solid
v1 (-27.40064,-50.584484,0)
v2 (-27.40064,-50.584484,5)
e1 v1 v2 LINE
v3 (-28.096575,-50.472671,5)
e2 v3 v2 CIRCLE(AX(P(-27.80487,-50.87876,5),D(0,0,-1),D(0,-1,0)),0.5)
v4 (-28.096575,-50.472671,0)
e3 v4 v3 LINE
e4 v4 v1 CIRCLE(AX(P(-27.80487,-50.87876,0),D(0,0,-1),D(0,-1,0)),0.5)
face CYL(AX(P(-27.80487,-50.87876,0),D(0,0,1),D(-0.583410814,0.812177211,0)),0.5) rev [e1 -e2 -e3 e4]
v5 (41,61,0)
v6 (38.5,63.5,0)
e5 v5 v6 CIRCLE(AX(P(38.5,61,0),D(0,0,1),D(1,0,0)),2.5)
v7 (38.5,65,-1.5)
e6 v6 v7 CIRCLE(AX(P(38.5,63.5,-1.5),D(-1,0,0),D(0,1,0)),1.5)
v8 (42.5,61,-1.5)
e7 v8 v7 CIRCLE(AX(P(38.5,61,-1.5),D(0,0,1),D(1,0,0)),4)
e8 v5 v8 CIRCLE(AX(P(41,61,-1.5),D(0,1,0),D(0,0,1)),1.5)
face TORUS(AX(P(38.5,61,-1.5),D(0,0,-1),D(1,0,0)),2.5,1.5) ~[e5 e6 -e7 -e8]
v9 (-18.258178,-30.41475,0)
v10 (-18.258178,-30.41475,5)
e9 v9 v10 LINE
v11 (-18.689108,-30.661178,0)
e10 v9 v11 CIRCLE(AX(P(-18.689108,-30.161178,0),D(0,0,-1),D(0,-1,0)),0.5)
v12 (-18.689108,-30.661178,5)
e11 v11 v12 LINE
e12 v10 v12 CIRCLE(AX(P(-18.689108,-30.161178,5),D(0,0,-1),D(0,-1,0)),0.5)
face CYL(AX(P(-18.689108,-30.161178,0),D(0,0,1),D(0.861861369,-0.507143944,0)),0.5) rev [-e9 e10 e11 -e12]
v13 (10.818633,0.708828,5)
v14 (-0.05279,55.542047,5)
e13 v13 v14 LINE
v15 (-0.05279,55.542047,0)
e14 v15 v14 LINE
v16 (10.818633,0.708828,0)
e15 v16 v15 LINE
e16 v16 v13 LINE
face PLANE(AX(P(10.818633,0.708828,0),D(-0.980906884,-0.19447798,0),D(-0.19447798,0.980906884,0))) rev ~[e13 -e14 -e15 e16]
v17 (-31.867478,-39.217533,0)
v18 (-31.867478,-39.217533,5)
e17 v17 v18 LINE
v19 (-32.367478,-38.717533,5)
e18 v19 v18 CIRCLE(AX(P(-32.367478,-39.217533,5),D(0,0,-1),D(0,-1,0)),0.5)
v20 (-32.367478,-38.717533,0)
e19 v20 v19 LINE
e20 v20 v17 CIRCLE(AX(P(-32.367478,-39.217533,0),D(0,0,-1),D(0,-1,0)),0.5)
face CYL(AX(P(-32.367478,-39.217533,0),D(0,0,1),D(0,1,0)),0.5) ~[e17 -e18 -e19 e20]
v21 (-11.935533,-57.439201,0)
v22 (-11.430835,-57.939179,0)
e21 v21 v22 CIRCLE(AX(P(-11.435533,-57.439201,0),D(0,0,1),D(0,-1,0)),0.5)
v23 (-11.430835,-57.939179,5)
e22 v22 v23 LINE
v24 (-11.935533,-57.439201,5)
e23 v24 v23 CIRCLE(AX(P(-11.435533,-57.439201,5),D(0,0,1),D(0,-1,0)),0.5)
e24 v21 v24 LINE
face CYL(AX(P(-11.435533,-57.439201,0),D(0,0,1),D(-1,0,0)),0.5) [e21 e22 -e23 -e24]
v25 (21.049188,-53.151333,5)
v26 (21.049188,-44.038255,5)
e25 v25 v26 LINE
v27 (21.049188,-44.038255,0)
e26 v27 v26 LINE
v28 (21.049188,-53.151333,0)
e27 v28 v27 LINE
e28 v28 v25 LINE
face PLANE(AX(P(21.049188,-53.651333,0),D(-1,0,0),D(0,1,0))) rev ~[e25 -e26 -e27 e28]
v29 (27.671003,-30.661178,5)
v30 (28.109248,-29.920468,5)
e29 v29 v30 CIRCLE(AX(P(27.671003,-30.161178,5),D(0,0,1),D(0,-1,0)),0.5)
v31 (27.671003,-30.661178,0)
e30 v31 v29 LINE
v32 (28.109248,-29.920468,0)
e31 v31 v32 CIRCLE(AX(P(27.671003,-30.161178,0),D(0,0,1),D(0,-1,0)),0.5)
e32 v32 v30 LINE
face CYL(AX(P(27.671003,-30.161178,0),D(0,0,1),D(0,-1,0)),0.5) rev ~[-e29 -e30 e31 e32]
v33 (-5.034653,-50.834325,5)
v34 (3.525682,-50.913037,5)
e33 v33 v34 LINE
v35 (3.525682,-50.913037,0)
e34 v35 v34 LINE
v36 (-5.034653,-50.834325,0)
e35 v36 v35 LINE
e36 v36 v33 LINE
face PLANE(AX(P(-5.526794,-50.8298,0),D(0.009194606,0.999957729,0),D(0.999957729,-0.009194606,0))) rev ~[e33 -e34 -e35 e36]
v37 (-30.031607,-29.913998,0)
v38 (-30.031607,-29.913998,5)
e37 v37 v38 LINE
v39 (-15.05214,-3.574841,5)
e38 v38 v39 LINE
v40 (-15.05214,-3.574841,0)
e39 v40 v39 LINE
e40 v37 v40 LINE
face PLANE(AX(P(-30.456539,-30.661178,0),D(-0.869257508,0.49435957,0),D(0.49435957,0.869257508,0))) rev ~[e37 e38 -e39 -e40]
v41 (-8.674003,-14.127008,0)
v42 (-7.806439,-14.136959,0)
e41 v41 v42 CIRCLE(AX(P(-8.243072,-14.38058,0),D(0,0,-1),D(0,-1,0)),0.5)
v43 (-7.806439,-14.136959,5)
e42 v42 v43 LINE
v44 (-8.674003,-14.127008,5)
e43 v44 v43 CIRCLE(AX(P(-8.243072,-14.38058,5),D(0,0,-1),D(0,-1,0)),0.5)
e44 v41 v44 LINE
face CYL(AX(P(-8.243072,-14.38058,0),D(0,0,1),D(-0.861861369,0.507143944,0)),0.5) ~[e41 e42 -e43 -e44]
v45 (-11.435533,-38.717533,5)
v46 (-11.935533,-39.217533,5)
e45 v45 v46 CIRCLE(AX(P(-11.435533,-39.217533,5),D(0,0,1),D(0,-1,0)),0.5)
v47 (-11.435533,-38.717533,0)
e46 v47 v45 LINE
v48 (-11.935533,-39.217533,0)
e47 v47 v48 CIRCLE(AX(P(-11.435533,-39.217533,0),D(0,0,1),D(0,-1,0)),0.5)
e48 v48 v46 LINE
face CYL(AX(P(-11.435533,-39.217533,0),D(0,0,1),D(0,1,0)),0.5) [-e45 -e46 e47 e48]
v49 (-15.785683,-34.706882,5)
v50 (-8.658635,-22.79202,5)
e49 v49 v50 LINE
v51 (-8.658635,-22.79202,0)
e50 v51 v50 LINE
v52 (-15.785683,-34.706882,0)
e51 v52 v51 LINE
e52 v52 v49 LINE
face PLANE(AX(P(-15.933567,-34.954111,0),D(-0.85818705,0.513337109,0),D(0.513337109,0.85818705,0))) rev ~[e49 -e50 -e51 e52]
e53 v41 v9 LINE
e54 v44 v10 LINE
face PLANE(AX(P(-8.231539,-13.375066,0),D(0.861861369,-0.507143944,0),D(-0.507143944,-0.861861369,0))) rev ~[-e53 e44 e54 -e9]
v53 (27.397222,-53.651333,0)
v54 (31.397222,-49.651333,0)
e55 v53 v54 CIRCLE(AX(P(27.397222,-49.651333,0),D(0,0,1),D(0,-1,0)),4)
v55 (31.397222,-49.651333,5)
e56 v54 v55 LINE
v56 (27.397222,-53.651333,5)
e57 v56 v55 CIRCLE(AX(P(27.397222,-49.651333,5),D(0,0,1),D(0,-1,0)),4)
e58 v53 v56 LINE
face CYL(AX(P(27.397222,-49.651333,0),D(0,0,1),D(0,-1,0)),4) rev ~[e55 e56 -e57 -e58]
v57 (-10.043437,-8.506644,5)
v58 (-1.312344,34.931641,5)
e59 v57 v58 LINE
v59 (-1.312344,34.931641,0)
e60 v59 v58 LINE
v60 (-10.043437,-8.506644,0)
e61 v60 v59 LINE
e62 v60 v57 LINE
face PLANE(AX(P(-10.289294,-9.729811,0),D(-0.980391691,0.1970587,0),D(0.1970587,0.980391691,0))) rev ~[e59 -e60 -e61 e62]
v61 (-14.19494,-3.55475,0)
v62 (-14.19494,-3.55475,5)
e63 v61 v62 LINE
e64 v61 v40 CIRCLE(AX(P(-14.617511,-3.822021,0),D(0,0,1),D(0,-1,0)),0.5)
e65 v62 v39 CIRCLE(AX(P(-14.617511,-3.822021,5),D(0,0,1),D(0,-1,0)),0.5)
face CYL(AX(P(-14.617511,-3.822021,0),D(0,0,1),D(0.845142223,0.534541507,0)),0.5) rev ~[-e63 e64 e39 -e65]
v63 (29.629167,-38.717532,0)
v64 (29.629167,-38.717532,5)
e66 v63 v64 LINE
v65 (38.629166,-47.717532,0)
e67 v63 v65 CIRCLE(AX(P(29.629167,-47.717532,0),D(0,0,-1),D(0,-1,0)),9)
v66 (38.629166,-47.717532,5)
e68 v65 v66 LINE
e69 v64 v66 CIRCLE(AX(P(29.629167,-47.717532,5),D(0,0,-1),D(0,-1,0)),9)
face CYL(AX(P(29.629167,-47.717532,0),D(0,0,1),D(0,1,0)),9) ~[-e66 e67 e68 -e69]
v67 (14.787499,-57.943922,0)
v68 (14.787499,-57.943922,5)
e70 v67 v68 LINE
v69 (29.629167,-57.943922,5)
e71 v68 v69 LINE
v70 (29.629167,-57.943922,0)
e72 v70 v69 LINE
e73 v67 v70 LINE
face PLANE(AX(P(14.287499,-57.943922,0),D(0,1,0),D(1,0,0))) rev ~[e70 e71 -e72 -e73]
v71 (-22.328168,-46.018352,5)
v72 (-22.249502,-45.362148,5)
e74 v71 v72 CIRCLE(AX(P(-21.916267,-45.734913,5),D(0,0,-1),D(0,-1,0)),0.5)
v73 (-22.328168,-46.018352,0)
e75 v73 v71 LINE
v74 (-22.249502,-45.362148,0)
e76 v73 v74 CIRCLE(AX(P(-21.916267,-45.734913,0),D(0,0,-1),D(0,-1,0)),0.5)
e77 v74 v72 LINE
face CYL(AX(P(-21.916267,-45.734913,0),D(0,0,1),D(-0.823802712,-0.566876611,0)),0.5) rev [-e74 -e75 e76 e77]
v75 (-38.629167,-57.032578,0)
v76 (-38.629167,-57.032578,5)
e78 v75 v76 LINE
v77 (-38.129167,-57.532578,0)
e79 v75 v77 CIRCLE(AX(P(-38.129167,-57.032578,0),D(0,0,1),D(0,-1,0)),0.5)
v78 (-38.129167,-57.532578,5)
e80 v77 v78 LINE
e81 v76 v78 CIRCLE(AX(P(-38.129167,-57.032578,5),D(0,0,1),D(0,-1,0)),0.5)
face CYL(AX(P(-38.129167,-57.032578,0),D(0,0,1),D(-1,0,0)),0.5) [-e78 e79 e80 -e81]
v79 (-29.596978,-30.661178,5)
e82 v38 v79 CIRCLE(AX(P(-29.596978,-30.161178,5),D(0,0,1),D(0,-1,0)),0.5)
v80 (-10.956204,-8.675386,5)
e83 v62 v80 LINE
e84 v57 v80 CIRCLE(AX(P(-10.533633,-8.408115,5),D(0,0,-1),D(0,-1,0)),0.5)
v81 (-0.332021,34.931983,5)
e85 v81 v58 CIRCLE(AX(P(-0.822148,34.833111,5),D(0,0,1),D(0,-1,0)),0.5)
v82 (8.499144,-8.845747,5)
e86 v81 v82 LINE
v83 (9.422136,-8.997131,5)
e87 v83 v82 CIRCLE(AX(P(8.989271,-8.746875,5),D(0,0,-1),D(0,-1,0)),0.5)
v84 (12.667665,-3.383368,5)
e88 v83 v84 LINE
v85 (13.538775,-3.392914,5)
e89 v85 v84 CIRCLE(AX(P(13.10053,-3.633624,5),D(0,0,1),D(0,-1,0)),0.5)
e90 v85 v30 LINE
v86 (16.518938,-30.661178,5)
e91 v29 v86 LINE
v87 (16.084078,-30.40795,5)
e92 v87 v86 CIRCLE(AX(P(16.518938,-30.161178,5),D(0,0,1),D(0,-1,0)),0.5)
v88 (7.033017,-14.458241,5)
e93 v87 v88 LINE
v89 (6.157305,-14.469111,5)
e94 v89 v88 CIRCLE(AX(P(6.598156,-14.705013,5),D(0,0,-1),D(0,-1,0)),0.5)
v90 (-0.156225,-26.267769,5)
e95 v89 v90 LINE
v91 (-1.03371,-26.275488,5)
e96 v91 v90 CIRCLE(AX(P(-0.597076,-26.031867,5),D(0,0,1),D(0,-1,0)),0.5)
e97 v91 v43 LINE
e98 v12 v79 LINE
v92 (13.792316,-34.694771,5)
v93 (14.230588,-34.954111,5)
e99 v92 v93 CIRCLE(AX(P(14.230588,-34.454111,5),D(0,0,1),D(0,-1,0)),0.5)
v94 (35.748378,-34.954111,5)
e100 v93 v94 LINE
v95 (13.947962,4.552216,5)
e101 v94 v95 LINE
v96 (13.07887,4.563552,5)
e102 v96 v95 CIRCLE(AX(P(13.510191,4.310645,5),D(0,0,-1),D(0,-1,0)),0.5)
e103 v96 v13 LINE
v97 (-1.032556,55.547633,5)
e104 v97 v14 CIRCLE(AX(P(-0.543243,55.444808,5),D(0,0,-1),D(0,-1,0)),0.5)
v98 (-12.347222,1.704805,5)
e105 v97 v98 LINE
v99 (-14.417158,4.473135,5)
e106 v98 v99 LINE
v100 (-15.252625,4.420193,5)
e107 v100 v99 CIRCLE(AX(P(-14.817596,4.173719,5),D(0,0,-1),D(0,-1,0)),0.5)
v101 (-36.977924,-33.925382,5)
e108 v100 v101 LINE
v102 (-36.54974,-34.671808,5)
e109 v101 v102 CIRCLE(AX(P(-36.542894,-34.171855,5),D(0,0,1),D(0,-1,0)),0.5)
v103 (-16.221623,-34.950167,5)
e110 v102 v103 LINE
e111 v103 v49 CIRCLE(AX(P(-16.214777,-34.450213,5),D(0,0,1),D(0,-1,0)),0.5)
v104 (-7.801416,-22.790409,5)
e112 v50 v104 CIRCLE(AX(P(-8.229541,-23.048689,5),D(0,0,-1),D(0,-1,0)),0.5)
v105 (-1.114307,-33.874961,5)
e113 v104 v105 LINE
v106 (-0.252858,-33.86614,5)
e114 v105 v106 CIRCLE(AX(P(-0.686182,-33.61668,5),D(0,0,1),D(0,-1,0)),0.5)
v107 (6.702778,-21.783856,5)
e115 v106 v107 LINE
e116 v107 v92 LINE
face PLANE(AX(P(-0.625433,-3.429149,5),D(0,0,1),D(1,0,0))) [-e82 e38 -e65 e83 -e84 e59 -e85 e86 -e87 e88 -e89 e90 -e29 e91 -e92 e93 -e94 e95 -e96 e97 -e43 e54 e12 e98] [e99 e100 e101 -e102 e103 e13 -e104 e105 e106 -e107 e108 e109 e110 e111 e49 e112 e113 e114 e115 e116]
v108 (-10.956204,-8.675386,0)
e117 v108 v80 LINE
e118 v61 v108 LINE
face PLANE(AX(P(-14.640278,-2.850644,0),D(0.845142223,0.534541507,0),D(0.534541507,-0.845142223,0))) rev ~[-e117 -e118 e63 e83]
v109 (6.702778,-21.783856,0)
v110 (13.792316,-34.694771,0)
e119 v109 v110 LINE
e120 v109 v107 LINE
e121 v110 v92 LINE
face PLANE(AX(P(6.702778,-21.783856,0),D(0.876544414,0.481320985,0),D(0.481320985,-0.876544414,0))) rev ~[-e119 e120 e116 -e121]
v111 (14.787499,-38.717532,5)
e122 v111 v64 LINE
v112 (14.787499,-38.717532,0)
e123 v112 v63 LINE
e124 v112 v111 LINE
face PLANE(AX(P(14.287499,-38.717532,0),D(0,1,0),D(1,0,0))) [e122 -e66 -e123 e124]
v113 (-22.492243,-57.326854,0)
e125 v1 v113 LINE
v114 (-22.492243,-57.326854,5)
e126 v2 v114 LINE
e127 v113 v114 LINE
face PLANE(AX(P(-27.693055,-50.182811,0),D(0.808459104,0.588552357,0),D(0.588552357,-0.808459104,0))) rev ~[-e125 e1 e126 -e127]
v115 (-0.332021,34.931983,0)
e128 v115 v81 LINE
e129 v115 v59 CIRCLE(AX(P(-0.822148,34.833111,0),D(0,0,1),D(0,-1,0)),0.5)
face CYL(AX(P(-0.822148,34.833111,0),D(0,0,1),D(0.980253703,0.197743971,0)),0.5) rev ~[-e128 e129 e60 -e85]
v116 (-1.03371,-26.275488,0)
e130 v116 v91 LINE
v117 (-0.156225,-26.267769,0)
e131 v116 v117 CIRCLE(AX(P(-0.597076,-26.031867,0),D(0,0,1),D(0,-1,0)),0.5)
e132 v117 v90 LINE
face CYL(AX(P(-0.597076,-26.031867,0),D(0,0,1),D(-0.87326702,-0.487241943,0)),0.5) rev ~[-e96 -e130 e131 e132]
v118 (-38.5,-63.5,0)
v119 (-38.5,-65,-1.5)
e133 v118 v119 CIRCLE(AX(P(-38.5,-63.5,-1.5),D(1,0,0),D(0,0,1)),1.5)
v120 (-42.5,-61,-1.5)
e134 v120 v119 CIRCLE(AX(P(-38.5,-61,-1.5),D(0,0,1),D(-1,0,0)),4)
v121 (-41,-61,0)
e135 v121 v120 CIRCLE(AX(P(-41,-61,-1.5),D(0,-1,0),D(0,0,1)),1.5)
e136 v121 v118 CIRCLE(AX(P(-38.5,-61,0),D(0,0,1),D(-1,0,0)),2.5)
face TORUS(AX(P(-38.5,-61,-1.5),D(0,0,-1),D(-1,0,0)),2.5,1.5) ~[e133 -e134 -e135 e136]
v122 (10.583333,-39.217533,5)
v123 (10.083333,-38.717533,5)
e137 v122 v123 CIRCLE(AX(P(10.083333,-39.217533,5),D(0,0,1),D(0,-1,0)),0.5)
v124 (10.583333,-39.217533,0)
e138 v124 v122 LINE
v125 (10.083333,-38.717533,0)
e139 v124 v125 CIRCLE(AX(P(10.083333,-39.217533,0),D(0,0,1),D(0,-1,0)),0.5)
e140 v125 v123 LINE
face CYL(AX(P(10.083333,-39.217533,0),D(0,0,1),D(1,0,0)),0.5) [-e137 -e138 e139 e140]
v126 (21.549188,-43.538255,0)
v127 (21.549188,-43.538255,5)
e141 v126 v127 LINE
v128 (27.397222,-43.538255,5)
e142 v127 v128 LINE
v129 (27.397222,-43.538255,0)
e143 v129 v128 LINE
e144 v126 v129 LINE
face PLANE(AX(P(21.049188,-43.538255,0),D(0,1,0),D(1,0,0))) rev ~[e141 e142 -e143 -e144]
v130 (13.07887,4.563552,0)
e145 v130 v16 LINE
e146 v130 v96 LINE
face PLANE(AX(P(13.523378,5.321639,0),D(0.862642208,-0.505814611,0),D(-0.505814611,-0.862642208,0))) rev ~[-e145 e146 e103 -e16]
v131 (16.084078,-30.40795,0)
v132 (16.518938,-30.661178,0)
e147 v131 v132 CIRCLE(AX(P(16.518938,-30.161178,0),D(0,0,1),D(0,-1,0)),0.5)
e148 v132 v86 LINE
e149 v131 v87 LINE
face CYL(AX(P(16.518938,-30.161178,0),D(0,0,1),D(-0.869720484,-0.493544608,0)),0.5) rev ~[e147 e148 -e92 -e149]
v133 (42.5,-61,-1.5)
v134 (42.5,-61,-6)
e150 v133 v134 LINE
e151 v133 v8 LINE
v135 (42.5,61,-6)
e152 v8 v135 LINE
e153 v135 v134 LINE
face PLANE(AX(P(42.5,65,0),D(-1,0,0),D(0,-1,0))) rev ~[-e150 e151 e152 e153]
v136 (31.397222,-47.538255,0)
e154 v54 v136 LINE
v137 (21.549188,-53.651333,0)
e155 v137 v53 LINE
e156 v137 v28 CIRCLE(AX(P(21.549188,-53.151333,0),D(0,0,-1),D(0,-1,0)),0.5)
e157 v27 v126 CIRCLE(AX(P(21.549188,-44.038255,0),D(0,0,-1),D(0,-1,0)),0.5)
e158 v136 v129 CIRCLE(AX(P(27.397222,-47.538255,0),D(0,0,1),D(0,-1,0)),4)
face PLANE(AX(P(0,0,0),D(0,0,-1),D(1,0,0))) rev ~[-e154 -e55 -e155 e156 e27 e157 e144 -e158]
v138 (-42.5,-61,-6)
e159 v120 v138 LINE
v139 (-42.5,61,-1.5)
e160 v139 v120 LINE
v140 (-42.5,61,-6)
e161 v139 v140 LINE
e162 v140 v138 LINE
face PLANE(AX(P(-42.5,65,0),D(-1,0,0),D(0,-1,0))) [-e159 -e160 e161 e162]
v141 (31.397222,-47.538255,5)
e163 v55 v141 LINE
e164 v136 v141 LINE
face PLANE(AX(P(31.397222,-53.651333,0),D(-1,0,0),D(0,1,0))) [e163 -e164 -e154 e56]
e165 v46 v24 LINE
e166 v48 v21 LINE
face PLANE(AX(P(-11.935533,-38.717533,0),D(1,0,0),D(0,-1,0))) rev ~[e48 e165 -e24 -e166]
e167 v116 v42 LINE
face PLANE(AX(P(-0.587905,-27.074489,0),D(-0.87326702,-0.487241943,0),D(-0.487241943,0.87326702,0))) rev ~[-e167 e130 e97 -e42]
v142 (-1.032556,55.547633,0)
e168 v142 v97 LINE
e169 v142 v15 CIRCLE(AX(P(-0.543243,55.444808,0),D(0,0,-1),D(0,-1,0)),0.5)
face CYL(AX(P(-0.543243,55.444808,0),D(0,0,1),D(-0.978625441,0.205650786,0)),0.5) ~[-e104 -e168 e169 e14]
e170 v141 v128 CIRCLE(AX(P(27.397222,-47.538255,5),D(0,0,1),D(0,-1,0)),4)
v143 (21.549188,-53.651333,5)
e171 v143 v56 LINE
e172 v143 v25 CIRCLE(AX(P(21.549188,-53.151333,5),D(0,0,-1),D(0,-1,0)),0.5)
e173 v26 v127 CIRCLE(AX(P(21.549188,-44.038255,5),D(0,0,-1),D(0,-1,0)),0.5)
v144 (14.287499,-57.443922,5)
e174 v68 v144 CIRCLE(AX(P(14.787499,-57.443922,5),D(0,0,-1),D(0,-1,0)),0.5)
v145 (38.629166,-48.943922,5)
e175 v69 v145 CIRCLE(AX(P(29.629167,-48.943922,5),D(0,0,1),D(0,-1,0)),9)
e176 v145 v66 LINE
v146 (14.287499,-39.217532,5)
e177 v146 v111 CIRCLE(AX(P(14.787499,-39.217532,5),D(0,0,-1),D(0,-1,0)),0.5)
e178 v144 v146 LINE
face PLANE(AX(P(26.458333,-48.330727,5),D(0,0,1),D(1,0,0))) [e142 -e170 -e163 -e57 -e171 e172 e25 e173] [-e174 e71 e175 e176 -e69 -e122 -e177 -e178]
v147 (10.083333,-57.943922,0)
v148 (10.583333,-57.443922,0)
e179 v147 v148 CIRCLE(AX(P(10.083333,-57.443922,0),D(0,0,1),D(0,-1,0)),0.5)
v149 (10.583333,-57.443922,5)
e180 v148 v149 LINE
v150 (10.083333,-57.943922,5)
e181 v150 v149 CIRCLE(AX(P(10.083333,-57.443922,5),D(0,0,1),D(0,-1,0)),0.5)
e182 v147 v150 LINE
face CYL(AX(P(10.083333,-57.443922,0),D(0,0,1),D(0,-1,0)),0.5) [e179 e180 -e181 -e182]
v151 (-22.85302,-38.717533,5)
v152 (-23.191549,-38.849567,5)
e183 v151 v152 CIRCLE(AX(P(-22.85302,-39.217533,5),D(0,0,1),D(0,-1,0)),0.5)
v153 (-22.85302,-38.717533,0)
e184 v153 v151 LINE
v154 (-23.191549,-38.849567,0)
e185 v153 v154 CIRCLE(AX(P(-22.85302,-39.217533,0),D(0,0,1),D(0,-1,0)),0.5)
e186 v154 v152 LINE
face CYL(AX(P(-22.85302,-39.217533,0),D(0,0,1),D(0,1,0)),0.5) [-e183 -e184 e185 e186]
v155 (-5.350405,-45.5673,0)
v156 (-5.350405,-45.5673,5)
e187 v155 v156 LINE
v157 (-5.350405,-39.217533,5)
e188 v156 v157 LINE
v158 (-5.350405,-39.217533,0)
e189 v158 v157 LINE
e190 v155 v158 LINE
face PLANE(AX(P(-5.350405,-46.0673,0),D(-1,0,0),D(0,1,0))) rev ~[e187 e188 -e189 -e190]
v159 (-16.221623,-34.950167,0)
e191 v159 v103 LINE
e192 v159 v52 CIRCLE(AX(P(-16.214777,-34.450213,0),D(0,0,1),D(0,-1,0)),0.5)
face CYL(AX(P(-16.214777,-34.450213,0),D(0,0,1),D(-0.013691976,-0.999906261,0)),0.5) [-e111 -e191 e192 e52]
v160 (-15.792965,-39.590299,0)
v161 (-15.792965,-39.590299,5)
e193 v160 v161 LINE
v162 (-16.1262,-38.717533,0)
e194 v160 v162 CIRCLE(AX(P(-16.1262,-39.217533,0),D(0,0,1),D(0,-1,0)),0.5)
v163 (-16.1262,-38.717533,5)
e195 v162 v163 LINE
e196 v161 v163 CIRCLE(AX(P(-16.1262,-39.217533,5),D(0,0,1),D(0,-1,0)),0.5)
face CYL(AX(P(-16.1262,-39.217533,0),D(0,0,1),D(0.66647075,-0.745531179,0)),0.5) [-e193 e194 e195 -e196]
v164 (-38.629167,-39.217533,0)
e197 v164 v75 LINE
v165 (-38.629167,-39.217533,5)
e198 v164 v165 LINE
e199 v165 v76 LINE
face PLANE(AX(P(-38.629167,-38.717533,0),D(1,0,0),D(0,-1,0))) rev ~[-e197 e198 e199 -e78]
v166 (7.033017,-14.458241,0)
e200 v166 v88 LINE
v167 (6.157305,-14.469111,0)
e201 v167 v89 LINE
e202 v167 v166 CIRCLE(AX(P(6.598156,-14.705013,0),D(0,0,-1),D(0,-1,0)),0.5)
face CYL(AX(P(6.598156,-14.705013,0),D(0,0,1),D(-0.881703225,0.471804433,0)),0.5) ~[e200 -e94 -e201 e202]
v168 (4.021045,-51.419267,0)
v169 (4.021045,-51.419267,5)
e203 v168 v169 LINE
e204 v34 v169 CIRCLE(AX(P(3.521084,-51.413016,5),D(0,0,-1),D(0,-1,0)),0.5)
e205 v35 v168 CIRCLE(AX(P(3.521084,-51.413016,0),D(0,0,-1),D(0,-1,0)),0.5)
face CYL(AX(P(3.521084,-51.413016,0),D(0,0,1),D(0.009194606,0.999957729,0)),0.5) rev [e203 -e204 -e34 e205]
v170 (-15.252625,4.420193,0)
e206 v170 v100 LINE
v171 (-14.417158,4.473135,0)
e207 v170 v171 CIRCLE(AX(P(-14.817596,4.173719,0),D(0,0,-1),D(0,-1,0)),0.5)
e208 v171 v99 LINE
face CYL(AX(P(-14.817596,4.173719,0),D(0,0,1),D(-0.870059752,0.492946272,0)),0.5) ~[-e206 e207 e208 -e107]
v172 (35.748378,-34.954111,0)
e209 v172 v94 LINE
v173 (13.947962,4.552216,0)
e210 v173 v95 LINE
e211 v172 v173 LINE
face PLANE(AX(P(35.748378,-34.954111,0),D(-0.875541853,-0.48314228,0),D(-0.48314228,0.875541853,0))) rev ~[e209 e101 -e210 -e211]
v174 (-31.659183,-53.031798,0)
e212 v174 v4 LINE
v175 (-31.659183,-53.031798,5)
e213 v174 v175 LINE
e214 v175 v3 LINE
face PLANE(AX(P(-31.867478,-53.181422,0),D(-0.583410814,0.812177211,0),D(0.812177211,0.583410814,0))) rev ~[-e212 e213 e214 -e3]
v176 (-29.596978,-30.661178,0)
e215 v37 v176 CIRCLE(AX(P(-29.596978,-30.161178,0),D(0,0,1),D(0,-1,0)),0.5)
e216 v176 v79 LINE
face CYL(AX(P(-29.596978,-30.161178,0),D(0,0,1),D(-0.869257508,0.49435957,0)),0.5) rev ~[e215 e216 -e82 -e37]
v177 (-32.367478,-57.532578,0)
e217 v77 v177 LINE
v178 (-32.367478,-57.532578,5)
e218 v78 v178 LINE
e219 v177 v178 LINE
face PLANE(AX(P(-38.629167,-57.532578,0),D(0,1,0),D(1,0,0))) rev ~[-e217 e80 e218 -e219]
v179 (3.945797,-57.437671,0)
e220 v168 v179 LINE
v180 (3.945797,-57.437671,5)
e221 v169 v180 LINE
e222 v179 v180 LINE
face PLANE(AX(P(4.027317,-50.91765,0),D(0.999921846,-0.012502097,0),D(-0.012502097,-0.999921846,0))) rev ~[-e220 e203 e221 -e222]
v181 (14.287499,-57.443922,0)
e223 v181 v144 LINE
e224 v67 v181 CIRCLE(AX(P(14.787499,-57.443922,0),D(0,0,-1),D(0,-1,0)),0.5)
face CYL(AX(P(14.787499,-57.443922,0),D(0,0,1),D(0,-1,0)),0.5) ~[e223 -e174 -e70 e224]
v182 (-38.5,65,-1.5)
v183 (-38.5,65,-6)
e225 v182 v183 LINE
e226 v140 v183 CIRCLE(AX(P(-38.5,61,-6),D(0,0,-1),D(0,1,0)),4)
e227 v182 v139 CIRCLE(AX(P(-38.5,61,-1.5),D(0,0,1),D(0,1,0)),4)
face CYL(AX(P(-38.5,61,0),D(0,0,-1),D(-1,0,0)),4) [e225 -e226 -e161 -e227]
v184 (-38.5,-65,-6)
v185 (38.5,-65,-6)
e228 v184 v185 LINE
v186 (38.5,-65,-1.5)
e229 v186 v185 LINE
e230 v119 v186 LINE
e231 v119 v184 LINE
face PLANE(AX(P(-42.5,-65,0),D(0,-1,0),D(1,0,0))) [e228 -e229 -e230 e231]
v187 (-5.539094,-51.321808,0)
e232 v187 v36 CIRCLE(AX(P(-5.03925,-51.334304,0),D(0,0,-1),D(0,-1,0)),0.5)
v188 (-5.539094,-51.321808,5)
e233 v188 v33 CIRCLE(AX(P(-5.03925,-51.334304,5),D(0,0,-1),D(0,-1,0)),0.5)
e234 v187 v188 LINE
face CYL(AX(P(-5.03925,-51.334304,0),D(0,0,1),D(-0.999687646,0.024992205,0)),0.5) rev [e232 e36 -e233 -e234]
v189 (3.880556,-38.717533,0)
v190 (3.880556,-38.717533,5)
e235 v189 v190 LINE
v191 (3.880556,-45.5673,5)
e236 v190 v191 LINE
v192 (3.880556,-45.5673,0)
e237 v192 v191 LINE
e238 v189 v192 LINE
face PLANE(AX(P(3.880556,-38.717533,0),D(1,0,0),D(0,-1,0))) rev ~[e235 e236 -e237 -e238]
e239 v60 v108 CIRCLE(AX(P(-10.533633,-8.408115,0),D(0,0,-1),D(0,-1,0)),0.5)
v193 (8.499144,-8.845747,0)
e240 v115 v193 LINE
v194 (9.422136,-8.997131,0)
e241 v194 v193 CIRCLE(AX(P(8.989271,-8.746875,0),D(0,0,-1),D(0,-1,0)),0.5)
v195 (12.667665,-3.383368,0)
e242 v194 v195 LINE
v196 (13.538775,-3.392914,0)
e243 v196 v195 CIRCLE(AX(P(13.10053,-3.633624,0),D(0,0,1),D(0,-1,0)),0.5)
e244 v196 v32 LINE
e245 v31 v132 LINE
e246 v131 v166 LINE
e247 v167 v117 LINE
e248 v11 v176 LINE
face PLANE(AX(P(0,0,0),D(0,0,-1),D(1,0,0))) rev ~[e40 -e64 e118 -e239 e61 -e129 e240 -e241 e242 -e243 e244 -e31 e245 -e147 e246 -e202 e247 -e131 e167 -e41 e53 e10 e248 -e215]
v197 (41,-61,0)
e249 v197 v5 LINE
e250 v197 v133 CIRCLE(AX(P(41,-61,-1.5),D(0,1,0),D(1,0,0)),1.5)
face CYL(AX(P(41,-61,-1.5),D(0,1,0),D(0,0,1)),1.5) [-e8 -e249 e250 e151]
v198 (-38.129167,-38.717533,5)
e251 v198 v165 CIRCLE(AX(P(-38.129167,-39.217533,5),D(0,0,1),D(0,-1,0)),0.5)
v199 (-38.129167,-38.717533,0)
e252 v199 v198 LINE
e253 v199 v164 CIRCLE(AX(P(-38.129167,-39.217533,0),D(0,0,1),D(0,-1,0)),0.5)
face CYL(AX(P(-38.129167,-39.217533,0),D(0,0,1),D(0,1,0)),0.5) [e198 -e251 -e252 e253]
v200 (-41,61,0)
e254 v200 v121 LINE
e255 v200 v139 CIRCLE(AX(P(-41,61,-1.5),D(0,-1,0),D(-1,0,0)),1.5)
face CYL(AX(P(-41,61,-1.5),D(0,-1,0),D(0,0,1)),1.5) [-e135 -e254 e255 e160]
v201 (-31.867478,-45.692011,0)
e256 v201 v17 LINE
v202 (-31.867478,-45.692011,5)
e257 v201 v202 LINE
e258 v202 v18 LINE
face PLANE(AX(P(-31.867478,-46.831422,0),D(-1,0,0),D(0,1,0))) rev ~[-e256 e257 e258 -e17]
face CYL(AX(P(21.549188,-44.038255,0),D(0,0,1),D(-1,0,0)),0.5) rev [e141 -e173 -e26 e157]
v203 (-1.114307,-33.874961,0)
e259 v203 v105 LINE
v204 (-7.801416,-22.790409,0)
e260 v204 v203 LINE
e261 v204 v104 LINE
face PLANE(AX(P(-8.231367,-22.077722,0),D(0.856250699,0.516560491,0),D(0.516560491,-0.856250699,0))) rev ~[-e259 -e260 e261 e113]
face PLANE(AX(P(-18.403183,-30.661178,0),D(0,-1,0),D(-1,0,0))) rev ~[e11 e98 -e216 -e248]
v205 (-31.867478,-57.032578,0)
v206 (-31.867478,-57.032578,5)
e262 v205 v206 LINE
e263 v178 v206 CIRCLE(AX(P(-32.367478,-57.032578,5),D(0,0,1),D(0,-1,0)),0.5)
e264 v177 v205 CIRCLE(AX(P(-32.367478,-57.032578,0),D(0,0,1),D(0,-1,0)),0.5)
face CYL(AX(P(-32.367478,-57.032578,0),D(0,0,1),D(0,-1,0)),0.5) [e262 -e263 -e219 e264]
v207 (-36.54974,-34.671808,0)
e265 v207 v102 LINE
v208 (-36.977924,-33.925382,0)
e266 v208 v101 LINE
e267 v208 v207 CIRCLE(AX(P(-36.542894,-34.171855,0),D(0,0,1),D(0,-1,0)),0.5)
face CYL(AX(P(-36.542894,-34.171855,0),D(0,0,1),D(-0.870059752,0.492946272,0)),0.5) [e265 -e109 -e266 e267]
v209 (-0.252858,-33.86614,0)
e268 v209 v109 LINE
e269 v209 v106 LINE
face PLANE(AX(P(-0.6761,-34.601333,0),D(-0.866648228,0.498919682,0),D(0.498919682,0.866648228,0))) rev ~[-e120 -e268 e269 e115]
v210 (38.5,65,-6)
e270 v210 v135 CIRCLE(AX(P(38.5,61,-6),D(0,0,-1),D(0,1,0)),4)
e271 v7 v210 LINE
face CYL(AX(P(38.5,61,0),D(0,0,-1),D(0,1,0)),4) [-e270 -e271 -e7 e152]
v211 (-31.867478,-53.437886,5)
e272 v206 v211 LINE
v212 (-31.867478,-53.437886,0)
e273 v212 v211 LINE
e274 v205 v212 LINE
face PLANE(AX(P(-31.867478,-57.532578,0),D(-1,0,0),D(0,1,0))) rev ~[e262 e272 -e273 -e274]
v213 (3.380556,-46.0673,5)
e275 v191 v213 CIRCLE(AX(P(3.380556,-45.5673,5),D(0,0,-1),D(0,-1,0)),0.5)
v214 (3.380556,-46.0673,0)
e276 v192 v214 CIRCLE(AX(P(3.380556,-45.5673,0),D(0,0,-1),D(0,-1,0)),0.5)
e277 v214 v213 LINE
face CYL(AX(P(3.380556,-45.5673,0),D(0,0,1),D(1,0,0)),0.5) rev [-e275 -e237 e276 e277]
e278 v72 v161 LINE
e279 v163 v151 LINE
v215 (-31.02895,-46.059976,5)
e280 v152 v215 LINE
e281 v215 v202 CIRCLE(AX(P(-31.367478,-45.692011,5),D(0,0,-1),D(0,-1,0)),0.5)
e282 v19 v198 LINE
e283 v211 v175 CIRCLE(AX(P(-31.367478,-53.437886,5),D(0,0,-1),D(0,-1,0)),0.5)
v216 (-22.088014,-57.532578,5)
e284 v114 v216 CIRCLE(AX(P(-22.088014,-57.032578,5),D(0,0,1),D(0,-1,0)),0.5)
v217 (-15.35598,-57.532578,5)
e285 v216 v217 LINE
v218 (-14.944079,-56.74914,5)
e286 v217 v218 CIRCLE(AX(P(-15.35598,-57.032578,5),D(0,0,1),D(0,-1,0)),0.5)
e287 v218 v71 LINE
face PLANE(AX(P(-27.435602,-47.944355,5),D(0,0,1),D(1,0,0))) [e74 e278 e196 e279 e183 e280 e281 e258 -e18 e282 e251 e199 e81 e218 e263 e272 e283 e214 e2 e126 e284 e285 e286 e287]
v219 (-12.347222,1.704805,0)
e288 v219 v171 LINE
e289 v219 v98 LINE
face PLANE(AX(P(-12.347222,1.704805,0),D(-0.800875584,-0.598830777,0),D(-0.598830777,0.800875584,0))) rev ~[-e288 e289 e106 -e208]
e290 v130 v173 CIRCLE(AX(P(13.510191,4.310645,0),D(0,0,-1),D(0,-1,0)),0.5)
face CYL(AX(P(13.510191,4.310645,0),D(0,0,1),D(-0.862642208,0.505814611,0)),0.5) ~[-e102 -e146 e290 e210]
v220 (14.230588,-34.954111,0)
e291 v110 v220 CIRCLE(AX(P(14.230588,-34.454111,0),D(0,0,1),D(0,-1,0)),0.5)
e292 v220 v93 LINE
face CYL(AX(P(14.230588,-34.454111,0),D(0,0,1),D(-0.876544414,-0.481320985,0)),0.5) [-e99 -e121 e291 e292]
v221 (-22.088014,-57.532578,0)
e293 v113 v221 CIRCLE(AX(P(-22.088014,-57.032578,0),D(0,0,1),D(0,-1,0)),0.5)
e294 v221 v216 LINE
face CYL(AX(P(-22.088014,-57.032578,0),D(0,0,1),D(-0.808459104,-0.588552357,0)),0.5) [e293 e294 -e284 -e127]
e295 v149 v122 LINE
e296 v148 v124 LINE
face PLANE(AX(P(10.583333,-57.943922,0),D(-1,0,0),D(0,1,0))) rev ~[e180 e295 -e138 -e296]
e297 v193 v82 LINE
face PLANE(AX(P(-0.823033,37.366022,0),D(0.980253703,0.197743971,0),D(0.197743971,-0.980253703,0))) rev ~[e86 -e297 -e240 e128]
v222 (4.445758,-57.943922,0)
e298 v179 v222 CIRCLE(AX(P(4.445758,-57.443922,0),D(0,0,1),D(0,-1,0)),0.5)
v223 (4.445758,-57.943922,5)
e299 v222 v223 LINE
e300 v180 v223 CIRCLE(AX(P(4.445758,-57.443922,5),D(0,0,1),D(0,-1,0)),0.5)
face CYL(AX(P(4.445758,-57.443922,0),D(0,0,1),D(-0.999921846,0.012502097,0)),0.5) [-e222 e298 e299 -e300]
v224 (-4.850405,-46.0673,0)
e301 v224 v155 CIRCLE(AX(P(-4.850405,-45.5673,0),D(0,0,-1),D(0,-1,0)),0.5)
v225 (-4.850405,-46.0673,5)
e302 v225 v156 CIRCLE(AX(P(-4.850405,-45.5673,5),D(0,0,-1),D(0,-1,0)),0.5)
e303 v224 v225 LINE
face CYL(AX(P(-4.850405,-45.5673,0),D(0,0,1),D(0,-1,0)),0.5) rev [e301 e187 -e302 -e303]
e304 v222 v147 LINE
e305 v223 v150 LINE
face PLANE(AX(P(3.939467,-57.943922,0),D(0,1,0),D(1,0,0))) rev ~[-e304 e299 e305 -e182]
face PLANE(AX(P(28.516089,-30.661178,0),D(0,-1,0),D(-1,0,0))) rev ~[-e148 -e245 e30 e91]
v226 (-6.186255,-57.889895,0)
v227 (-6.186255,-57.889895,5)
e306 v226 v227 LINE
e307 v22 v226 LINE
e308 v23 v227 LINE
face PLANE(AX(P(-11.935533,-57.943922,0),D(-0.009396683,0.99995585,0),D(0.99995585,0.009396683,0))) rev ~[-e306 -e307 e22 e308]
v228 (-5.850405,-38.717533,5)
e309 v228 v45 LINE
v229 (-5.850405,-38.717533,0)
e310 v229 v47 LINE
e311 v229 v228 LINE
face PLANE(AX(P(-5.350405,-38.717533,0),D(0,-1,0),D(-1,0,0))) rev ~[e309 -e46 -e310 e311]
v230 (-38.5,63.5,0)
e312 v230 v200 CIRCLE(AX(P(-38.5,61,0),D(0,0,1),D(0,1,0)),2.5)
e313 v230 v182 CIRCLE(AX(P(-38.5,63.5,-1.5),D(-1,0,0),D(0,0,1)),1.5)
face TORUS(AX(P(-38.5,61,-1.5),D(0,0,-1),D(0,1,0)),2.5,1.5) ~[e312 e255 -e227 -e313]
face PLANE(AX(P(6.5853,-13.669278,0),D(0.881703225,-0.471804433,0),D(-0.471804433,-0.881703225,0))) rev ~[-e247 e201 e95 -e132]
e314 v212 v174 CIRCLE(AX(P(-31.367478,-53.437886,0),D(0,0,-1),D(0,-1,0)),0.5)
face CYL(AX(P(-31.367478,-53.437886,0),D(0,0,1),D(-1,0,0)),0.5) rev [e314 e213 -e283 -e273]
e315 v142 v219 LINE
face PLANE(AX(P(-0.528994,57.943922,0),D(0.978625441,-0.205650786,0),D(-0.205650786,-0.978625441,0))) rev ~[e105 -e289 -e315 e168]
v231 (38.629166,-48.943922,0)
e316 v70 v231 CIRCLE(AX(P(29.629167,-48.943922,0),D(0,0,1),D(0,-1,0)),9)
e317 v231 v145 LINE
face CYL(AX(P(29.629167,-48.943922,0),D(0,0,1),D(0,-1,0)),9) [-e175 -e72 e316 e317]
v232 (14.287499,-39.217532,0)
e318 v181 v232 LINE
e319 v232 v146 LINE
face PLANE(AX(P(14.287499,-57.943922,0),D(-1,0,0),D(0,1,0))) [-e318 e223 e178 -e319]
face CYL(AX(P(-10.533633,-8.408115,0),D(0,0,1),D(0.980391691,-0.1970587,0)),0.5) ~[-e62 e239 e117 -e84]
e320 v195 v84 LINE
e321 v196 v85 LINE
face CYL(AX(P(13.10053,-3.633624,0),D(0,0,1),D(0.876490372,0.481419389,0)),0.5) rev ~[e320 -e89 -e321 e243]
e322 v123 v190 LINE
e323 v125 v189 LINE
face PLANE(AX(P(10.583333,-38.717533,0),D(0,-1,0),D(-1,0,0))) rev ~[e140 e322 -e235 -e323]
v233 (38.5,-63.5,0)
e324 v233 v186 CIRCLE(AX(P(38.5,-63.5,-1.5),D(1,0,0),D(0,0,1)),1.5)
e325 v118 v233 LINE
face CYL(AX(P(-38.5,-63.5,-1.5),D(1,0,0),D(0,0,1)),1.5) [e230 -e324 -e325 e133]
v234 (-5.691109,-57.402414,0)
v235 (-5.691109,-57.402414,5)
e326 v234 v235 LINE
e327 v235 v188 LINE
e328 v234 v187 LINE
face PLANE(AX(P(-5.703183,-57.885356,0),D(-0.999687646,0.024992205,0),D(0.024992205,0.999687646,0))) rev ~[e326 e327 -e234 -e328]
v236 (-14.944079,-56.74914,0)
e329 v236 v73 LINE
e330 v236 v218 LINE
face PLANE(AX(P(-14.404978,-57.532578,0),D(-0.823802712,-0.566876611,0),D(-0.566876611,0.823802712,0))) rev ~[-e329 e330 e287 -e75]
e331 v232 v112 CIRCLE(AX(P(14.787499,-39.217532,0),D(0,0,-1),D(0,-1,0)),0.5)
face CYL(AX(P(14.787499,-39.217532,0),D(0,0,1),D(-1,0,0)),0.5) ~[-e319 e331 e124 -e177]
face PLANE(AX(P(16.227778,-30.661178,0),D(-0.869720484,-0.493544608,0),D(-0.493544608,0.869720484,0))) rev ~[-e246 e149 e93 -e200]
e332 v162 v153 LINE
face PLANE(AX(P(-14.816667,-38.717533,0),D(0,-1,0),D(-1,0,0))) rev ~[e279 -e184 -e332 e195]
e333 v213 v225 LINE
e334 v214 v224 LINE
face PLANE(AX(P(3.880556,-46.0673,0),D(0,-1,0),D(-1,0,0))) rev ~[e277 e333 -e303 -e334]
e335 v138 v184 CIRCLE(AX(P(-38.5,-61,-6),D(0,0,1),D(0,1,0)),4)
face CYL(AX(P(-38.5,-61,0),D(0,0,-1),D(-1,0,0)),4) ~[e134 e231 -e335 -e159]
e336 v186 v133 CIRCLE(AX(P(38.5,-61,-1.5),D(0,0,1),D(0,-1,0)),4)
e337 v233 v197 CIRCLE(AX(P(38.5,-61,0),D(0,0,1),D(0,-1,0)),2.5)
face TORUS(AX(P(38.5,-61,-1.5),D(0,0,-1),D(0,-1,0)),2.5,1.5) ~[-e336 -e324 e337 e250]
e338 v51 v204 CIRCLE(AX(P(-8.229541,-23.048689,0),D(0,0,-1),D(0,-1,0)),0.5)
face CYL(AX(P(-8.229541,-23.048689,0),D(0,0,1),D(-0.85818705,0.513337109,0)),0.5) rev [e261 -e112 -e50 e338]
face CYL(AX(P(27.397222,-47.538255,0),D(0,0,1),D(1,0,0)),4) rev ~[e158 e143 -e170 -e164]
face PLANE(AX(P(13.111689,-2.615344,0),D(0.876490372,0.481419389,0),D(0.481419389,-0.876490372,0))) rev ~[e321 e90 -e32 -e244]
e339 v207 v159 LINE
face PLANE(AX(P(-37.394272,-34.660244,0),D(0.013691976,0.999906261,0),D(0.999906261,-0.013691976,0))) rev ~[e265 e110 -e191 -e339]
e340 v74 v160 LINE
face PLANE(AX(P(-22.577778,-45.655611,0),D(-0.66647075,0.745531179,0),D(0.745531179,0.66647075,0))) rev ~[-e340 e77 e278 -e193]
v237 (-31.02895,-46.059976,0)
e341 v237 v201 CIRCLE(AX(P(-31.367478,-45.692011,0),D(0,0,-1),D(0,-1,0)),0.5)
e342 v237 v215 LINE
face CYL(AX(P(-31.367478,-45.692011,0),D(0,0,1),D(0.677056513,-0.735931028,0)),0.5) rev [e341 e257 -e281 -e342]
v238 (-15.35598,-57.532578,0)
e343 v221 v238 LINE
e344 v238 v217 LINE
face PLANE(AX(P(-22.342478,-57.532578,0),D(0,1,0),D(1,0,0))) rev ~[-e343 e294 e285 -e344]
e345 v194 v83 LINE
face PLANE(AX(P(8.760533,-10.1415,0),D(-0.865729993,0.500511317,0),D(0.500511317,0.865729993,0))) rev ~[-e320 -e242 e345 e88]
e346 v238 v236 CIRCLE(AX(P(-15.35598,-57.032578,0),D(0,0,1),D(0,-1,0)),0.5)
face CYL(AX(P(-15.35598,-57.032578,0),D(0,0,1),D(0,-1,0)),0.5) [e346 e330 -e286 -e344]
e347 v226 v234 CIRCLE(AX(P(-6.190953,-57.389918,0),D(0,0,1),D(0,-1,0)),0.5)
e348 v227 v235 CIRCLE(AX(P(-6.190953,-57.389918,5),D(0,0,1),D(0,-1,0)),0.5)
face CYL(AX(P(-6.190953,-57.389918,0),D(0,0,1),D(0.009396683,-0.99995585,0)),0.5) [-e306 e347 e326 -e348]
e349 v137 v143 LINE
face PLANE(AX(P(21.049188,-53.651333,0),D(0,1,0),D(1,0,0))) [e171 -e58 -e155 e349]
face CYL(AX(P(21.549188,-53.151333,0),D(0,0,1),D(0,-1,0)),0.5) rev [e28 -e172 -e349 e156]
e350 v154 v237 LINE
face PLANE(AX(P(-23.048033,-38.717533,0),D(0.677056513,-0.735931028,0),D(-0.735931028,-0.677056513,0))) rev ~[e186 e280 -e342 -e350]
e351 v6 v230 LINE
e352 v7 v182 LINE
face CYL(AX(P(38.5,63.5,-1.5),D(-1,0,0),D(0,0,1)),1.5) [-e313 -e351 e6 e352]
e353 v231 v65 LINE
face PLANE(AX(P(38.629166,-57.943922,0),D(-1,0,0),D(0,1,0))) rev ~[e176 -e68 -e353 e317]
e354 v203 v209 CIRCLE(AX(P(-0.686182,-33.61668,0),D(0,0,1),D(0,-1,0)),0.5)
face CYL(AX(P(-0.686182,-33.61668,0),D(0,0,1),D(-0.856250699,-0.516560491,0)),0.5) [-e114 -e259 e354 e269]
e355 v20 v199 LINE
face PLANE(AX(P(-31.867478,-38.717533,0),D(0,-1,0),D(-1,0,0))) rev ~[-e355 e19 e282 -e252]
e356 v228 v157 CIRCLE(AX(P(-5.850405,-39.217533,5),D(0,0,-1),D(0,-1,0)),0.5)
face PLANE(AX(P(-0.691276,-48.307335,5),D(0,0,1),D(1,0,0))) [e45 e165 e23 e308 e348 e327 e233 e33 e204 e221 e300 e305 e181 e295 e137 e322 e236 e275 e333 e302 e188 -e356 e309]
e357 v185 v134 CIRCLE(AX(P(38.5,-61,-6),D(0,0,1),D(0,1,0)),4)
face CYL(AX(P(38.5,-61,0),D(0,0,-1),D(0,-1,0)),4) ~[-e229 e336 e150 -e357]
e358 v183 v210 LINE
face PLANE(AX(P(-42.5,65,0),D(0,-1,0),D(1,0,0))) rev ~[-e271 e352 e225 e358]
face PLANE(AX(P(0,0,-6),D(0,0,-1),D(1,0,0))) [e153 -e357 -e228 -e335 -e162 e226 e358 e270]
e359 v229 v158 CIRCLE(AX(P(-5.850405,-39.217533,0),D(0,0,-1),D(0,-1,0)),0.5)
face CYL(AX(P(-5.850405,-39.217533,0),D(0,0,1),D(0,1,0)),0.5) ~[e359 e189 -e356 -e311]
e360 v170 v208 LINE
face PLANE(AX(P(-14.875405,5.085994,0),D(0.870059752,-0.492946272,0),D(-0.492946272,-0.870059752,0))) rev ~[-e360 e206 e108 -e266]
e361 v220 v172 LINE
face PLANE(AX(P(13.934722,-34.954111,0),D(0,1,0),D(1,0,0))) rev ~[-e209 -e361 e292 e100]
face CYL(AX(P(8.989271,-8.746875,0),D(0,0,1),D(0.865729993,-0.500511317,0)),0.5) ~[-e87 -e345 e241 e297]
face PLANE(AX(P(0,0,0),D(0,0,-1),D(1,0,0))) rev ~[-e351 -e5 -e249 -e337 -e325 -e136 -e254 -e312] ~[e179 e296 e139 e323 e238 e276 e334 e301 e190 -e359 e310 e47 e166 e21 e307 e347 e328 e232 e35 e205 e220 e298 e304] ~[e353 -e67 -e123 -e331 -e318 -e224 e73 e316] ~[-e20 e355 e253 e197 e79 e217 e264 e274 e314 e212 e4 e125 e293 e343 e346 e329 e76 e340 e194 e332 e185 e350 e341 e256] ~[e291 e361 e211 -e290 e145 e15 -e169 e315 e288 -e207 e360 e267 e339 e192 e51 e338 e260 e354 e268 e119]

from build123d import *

# Parameters (mm, degrees)
F0_W     = 24.341667
F0_H     = 19.226389
F0_W_2   = 10.348033
F0_H_2   = 10.113077
F1_DEPTH = 5
F2_R     = 4
F3_R     = 9
F4_R     = 0.5
F5_W     = 85
F5_H     = 130
F6_DEPTH = 6
F7_R     = 4
F8_R     = 1.5


with BuildPart() as f1:
    # F0 (on Top) → F1 (new body)
    with BuildSketch(Plane.XY):
        Polygon((-31.867478, -38.717533), (-38.629167, -38.717533), (-38.629167, -57.532578), (-31.867478, -57.532578), (-31.867478, -53.181422), (-27.693055, -50.182811), (-22.342478, -57.532578), (-14.404978, -57.532578), (-22.577778, -45.655611), (-14.816667, -38.717533), (-23.048033, -38.717533), (-31.867478, -46.831422), align=None)
        Polygon((-5.350405, -38.717533), (-11.935533, -38.717533), (-11.935533, -57.943922), (-5.703183, -57.885356), (-5.526794, -50.8298), (4.027317, -50.91765), (3.939467, -57.943922), (10.583333, -57.943922), (10.583333, -38.717533), (3.880556, -38.717533), (3.880556, -46.0673), (-5.350405, -46.0673), align=None)
        Polygon((-14.875405, 5.085994), (-37.394272, -34.660244), (-15.933567, -34.954111), (-8.231367, -22.077722), (-0.6761, -34.601333), (6.702778, -21.783856), (13.934722, -34.954111), (35.748378, -34.954111), (13.523378, 5.321639), (10.818633, 0.708828), (-0.528994, 57.943922), (-12.347222, 1.704805), align=None)
        Polygon((-18.403183, -30.661178), (-30.456539, -30.661178), (-14.640278, -2.850644), (-10.289294, -9.729811), (-0.823033, 37.366022), (8.760533, -10.1415), (13.111689, -2.615344), (28.516089, -30.661178), (16.227778, -30.661178), (6.5853, -13.669278), (-0.587905, -27.074489), (-8.231539, -13.375066), align=None, mode=Mode.SUBTRACT)
        with Locations((26.458333, -48.330727)):
            Rectangle(F0_W, F0_H)
        with Locations((26.223205, -48.594794)):
            Rectangle(F0_W_2, F0_H_2, mode=Mode.SUBTRACT)
    extrude(amount=F1_DEPTH)

    # F2
    f2_edges = [f1.edges().sort_by_distance(p)[0] for p in [
        (31.397222, -43.538256, 2.5),
        (31.397222, -53.651333, 2.5),
    ]]
    fillet(f2_edges, radius=F2_R)

    # F3
    f3_edges = [f1.edges().sort_by_distance(p)[0] for p in [
        (38.629167, -57.943922, 2.5),
        (38.629167, -38.717533, 2.5),
    ]]
    fillet(f3_edges, radius=F3_R)

    # F4
    f4_edges = [f1.edges().sort_by_distance(p)[0] for p in [
        (-38.629167, -38.717533, 2.5),
        (-31.867478, -38.717533, 2.5),
        (-23.048033, -38.717533, 2.5),
        (-14.816667, -38.717533, 2.5),
        (-31.867478, -46.831422, 2.5),
        (-22.577778, -45.655611, 2.5),
        (-14.404978, -57.532578, 2.5),
        (-22.342478, -57.532578, 2.5),
        (-27.693055, -50.182811, 2.5),
        (-31.867478, -53.181422, 2.5),
        (-31.867478, -57.532578, 2.5),
        (-38.629167, -57.532578, 2.5),
        (-11.935533, -57.943922, 2.5),
        (-5.703183, -57.885356, 2.5),
        (4.027317, -50.91765, 2.5),
        (3.939467, -57.943922, 2.5),
        (10.583333, -57.943922, 2.5),
        (14.2875, -57.943922, 2.5),
        (14.2875, -38.717533, 2.5),
        (13.934722, -34.954111, 2.5),
        (-0.6761, -34.601333, 2.5),
        (-37.394272, -34.660244, 2.5),
        (-15.933567, -34.954111, 2.5),
        (-8.231367, -22.077722, 2.5),
        (-5.526794, -50.8298, 2.5),
        (21.049189, -53.651333, 2.5),
        (21.049189, -43.538256, 2.5),
        (10.583333, -38.717533, 2.5),
        (-5.350405, -38.717533, 2.5),
        (-5.350405, -46.0673, 2.5),
        (-11.935533, -38.717533, 2.5),
        (3.880556, -46.0673, 2.5),
        (-0.587905, -27.074489, 2.5),
        (6.5853, -13.669278, 2.5),
        (16.227778, -30.661178, 2.5),
        (-8.231539, -13.375066, 2.5),
        (-18.403183, -30.661178, 2.5),
        (-30.456539, -30.661178, 2.5),
        (-14.875405, 5.085994, 2.5),
        (-10.289294, -9.729811, 2.5),
        (8.760533, -10.1415, 2.5),
        (28.516089, -30.661178, 2.5),
        (13.111689, -2.615344, 2.5),
        (13.523378, 5.321639, 2.5),
        (-0.823033, 37.366022, 2.5),
        (-0.528994, 57.943922, 2.5),
        (-14.640278, -2.850644, 2.5),
    ]]
    fillet(f4_edges, radius=F4_R)

    # F5 (on face) → F6 (join)
    with BuildSketch(Plane(origin=(0, 0, 0), x_dir=(1, 0, 0), z_dir=(0, 0, -1))):
        Rectangle(F5_W, F5_H)
    extrude(amount=F6_DEPTH)

    # F7
    f7_edges = [f1.edges().sort_by_distance(p)[0] for p in [
        (42.5, -65, -3),
        (42.5, 65, -3),
        (-42.5, 65, -3),
        (-42.5, -65, -3),
    ]]
    fillet(f7_edges, radius=F7_R)

    # F8
    f8_edges = [f1.edges().sort_by_distance(p)[0] for p in [
        (0, -65, 0),
    ]]
    fillet(f8_edges, radius=F8_R)


solid = f1.part
